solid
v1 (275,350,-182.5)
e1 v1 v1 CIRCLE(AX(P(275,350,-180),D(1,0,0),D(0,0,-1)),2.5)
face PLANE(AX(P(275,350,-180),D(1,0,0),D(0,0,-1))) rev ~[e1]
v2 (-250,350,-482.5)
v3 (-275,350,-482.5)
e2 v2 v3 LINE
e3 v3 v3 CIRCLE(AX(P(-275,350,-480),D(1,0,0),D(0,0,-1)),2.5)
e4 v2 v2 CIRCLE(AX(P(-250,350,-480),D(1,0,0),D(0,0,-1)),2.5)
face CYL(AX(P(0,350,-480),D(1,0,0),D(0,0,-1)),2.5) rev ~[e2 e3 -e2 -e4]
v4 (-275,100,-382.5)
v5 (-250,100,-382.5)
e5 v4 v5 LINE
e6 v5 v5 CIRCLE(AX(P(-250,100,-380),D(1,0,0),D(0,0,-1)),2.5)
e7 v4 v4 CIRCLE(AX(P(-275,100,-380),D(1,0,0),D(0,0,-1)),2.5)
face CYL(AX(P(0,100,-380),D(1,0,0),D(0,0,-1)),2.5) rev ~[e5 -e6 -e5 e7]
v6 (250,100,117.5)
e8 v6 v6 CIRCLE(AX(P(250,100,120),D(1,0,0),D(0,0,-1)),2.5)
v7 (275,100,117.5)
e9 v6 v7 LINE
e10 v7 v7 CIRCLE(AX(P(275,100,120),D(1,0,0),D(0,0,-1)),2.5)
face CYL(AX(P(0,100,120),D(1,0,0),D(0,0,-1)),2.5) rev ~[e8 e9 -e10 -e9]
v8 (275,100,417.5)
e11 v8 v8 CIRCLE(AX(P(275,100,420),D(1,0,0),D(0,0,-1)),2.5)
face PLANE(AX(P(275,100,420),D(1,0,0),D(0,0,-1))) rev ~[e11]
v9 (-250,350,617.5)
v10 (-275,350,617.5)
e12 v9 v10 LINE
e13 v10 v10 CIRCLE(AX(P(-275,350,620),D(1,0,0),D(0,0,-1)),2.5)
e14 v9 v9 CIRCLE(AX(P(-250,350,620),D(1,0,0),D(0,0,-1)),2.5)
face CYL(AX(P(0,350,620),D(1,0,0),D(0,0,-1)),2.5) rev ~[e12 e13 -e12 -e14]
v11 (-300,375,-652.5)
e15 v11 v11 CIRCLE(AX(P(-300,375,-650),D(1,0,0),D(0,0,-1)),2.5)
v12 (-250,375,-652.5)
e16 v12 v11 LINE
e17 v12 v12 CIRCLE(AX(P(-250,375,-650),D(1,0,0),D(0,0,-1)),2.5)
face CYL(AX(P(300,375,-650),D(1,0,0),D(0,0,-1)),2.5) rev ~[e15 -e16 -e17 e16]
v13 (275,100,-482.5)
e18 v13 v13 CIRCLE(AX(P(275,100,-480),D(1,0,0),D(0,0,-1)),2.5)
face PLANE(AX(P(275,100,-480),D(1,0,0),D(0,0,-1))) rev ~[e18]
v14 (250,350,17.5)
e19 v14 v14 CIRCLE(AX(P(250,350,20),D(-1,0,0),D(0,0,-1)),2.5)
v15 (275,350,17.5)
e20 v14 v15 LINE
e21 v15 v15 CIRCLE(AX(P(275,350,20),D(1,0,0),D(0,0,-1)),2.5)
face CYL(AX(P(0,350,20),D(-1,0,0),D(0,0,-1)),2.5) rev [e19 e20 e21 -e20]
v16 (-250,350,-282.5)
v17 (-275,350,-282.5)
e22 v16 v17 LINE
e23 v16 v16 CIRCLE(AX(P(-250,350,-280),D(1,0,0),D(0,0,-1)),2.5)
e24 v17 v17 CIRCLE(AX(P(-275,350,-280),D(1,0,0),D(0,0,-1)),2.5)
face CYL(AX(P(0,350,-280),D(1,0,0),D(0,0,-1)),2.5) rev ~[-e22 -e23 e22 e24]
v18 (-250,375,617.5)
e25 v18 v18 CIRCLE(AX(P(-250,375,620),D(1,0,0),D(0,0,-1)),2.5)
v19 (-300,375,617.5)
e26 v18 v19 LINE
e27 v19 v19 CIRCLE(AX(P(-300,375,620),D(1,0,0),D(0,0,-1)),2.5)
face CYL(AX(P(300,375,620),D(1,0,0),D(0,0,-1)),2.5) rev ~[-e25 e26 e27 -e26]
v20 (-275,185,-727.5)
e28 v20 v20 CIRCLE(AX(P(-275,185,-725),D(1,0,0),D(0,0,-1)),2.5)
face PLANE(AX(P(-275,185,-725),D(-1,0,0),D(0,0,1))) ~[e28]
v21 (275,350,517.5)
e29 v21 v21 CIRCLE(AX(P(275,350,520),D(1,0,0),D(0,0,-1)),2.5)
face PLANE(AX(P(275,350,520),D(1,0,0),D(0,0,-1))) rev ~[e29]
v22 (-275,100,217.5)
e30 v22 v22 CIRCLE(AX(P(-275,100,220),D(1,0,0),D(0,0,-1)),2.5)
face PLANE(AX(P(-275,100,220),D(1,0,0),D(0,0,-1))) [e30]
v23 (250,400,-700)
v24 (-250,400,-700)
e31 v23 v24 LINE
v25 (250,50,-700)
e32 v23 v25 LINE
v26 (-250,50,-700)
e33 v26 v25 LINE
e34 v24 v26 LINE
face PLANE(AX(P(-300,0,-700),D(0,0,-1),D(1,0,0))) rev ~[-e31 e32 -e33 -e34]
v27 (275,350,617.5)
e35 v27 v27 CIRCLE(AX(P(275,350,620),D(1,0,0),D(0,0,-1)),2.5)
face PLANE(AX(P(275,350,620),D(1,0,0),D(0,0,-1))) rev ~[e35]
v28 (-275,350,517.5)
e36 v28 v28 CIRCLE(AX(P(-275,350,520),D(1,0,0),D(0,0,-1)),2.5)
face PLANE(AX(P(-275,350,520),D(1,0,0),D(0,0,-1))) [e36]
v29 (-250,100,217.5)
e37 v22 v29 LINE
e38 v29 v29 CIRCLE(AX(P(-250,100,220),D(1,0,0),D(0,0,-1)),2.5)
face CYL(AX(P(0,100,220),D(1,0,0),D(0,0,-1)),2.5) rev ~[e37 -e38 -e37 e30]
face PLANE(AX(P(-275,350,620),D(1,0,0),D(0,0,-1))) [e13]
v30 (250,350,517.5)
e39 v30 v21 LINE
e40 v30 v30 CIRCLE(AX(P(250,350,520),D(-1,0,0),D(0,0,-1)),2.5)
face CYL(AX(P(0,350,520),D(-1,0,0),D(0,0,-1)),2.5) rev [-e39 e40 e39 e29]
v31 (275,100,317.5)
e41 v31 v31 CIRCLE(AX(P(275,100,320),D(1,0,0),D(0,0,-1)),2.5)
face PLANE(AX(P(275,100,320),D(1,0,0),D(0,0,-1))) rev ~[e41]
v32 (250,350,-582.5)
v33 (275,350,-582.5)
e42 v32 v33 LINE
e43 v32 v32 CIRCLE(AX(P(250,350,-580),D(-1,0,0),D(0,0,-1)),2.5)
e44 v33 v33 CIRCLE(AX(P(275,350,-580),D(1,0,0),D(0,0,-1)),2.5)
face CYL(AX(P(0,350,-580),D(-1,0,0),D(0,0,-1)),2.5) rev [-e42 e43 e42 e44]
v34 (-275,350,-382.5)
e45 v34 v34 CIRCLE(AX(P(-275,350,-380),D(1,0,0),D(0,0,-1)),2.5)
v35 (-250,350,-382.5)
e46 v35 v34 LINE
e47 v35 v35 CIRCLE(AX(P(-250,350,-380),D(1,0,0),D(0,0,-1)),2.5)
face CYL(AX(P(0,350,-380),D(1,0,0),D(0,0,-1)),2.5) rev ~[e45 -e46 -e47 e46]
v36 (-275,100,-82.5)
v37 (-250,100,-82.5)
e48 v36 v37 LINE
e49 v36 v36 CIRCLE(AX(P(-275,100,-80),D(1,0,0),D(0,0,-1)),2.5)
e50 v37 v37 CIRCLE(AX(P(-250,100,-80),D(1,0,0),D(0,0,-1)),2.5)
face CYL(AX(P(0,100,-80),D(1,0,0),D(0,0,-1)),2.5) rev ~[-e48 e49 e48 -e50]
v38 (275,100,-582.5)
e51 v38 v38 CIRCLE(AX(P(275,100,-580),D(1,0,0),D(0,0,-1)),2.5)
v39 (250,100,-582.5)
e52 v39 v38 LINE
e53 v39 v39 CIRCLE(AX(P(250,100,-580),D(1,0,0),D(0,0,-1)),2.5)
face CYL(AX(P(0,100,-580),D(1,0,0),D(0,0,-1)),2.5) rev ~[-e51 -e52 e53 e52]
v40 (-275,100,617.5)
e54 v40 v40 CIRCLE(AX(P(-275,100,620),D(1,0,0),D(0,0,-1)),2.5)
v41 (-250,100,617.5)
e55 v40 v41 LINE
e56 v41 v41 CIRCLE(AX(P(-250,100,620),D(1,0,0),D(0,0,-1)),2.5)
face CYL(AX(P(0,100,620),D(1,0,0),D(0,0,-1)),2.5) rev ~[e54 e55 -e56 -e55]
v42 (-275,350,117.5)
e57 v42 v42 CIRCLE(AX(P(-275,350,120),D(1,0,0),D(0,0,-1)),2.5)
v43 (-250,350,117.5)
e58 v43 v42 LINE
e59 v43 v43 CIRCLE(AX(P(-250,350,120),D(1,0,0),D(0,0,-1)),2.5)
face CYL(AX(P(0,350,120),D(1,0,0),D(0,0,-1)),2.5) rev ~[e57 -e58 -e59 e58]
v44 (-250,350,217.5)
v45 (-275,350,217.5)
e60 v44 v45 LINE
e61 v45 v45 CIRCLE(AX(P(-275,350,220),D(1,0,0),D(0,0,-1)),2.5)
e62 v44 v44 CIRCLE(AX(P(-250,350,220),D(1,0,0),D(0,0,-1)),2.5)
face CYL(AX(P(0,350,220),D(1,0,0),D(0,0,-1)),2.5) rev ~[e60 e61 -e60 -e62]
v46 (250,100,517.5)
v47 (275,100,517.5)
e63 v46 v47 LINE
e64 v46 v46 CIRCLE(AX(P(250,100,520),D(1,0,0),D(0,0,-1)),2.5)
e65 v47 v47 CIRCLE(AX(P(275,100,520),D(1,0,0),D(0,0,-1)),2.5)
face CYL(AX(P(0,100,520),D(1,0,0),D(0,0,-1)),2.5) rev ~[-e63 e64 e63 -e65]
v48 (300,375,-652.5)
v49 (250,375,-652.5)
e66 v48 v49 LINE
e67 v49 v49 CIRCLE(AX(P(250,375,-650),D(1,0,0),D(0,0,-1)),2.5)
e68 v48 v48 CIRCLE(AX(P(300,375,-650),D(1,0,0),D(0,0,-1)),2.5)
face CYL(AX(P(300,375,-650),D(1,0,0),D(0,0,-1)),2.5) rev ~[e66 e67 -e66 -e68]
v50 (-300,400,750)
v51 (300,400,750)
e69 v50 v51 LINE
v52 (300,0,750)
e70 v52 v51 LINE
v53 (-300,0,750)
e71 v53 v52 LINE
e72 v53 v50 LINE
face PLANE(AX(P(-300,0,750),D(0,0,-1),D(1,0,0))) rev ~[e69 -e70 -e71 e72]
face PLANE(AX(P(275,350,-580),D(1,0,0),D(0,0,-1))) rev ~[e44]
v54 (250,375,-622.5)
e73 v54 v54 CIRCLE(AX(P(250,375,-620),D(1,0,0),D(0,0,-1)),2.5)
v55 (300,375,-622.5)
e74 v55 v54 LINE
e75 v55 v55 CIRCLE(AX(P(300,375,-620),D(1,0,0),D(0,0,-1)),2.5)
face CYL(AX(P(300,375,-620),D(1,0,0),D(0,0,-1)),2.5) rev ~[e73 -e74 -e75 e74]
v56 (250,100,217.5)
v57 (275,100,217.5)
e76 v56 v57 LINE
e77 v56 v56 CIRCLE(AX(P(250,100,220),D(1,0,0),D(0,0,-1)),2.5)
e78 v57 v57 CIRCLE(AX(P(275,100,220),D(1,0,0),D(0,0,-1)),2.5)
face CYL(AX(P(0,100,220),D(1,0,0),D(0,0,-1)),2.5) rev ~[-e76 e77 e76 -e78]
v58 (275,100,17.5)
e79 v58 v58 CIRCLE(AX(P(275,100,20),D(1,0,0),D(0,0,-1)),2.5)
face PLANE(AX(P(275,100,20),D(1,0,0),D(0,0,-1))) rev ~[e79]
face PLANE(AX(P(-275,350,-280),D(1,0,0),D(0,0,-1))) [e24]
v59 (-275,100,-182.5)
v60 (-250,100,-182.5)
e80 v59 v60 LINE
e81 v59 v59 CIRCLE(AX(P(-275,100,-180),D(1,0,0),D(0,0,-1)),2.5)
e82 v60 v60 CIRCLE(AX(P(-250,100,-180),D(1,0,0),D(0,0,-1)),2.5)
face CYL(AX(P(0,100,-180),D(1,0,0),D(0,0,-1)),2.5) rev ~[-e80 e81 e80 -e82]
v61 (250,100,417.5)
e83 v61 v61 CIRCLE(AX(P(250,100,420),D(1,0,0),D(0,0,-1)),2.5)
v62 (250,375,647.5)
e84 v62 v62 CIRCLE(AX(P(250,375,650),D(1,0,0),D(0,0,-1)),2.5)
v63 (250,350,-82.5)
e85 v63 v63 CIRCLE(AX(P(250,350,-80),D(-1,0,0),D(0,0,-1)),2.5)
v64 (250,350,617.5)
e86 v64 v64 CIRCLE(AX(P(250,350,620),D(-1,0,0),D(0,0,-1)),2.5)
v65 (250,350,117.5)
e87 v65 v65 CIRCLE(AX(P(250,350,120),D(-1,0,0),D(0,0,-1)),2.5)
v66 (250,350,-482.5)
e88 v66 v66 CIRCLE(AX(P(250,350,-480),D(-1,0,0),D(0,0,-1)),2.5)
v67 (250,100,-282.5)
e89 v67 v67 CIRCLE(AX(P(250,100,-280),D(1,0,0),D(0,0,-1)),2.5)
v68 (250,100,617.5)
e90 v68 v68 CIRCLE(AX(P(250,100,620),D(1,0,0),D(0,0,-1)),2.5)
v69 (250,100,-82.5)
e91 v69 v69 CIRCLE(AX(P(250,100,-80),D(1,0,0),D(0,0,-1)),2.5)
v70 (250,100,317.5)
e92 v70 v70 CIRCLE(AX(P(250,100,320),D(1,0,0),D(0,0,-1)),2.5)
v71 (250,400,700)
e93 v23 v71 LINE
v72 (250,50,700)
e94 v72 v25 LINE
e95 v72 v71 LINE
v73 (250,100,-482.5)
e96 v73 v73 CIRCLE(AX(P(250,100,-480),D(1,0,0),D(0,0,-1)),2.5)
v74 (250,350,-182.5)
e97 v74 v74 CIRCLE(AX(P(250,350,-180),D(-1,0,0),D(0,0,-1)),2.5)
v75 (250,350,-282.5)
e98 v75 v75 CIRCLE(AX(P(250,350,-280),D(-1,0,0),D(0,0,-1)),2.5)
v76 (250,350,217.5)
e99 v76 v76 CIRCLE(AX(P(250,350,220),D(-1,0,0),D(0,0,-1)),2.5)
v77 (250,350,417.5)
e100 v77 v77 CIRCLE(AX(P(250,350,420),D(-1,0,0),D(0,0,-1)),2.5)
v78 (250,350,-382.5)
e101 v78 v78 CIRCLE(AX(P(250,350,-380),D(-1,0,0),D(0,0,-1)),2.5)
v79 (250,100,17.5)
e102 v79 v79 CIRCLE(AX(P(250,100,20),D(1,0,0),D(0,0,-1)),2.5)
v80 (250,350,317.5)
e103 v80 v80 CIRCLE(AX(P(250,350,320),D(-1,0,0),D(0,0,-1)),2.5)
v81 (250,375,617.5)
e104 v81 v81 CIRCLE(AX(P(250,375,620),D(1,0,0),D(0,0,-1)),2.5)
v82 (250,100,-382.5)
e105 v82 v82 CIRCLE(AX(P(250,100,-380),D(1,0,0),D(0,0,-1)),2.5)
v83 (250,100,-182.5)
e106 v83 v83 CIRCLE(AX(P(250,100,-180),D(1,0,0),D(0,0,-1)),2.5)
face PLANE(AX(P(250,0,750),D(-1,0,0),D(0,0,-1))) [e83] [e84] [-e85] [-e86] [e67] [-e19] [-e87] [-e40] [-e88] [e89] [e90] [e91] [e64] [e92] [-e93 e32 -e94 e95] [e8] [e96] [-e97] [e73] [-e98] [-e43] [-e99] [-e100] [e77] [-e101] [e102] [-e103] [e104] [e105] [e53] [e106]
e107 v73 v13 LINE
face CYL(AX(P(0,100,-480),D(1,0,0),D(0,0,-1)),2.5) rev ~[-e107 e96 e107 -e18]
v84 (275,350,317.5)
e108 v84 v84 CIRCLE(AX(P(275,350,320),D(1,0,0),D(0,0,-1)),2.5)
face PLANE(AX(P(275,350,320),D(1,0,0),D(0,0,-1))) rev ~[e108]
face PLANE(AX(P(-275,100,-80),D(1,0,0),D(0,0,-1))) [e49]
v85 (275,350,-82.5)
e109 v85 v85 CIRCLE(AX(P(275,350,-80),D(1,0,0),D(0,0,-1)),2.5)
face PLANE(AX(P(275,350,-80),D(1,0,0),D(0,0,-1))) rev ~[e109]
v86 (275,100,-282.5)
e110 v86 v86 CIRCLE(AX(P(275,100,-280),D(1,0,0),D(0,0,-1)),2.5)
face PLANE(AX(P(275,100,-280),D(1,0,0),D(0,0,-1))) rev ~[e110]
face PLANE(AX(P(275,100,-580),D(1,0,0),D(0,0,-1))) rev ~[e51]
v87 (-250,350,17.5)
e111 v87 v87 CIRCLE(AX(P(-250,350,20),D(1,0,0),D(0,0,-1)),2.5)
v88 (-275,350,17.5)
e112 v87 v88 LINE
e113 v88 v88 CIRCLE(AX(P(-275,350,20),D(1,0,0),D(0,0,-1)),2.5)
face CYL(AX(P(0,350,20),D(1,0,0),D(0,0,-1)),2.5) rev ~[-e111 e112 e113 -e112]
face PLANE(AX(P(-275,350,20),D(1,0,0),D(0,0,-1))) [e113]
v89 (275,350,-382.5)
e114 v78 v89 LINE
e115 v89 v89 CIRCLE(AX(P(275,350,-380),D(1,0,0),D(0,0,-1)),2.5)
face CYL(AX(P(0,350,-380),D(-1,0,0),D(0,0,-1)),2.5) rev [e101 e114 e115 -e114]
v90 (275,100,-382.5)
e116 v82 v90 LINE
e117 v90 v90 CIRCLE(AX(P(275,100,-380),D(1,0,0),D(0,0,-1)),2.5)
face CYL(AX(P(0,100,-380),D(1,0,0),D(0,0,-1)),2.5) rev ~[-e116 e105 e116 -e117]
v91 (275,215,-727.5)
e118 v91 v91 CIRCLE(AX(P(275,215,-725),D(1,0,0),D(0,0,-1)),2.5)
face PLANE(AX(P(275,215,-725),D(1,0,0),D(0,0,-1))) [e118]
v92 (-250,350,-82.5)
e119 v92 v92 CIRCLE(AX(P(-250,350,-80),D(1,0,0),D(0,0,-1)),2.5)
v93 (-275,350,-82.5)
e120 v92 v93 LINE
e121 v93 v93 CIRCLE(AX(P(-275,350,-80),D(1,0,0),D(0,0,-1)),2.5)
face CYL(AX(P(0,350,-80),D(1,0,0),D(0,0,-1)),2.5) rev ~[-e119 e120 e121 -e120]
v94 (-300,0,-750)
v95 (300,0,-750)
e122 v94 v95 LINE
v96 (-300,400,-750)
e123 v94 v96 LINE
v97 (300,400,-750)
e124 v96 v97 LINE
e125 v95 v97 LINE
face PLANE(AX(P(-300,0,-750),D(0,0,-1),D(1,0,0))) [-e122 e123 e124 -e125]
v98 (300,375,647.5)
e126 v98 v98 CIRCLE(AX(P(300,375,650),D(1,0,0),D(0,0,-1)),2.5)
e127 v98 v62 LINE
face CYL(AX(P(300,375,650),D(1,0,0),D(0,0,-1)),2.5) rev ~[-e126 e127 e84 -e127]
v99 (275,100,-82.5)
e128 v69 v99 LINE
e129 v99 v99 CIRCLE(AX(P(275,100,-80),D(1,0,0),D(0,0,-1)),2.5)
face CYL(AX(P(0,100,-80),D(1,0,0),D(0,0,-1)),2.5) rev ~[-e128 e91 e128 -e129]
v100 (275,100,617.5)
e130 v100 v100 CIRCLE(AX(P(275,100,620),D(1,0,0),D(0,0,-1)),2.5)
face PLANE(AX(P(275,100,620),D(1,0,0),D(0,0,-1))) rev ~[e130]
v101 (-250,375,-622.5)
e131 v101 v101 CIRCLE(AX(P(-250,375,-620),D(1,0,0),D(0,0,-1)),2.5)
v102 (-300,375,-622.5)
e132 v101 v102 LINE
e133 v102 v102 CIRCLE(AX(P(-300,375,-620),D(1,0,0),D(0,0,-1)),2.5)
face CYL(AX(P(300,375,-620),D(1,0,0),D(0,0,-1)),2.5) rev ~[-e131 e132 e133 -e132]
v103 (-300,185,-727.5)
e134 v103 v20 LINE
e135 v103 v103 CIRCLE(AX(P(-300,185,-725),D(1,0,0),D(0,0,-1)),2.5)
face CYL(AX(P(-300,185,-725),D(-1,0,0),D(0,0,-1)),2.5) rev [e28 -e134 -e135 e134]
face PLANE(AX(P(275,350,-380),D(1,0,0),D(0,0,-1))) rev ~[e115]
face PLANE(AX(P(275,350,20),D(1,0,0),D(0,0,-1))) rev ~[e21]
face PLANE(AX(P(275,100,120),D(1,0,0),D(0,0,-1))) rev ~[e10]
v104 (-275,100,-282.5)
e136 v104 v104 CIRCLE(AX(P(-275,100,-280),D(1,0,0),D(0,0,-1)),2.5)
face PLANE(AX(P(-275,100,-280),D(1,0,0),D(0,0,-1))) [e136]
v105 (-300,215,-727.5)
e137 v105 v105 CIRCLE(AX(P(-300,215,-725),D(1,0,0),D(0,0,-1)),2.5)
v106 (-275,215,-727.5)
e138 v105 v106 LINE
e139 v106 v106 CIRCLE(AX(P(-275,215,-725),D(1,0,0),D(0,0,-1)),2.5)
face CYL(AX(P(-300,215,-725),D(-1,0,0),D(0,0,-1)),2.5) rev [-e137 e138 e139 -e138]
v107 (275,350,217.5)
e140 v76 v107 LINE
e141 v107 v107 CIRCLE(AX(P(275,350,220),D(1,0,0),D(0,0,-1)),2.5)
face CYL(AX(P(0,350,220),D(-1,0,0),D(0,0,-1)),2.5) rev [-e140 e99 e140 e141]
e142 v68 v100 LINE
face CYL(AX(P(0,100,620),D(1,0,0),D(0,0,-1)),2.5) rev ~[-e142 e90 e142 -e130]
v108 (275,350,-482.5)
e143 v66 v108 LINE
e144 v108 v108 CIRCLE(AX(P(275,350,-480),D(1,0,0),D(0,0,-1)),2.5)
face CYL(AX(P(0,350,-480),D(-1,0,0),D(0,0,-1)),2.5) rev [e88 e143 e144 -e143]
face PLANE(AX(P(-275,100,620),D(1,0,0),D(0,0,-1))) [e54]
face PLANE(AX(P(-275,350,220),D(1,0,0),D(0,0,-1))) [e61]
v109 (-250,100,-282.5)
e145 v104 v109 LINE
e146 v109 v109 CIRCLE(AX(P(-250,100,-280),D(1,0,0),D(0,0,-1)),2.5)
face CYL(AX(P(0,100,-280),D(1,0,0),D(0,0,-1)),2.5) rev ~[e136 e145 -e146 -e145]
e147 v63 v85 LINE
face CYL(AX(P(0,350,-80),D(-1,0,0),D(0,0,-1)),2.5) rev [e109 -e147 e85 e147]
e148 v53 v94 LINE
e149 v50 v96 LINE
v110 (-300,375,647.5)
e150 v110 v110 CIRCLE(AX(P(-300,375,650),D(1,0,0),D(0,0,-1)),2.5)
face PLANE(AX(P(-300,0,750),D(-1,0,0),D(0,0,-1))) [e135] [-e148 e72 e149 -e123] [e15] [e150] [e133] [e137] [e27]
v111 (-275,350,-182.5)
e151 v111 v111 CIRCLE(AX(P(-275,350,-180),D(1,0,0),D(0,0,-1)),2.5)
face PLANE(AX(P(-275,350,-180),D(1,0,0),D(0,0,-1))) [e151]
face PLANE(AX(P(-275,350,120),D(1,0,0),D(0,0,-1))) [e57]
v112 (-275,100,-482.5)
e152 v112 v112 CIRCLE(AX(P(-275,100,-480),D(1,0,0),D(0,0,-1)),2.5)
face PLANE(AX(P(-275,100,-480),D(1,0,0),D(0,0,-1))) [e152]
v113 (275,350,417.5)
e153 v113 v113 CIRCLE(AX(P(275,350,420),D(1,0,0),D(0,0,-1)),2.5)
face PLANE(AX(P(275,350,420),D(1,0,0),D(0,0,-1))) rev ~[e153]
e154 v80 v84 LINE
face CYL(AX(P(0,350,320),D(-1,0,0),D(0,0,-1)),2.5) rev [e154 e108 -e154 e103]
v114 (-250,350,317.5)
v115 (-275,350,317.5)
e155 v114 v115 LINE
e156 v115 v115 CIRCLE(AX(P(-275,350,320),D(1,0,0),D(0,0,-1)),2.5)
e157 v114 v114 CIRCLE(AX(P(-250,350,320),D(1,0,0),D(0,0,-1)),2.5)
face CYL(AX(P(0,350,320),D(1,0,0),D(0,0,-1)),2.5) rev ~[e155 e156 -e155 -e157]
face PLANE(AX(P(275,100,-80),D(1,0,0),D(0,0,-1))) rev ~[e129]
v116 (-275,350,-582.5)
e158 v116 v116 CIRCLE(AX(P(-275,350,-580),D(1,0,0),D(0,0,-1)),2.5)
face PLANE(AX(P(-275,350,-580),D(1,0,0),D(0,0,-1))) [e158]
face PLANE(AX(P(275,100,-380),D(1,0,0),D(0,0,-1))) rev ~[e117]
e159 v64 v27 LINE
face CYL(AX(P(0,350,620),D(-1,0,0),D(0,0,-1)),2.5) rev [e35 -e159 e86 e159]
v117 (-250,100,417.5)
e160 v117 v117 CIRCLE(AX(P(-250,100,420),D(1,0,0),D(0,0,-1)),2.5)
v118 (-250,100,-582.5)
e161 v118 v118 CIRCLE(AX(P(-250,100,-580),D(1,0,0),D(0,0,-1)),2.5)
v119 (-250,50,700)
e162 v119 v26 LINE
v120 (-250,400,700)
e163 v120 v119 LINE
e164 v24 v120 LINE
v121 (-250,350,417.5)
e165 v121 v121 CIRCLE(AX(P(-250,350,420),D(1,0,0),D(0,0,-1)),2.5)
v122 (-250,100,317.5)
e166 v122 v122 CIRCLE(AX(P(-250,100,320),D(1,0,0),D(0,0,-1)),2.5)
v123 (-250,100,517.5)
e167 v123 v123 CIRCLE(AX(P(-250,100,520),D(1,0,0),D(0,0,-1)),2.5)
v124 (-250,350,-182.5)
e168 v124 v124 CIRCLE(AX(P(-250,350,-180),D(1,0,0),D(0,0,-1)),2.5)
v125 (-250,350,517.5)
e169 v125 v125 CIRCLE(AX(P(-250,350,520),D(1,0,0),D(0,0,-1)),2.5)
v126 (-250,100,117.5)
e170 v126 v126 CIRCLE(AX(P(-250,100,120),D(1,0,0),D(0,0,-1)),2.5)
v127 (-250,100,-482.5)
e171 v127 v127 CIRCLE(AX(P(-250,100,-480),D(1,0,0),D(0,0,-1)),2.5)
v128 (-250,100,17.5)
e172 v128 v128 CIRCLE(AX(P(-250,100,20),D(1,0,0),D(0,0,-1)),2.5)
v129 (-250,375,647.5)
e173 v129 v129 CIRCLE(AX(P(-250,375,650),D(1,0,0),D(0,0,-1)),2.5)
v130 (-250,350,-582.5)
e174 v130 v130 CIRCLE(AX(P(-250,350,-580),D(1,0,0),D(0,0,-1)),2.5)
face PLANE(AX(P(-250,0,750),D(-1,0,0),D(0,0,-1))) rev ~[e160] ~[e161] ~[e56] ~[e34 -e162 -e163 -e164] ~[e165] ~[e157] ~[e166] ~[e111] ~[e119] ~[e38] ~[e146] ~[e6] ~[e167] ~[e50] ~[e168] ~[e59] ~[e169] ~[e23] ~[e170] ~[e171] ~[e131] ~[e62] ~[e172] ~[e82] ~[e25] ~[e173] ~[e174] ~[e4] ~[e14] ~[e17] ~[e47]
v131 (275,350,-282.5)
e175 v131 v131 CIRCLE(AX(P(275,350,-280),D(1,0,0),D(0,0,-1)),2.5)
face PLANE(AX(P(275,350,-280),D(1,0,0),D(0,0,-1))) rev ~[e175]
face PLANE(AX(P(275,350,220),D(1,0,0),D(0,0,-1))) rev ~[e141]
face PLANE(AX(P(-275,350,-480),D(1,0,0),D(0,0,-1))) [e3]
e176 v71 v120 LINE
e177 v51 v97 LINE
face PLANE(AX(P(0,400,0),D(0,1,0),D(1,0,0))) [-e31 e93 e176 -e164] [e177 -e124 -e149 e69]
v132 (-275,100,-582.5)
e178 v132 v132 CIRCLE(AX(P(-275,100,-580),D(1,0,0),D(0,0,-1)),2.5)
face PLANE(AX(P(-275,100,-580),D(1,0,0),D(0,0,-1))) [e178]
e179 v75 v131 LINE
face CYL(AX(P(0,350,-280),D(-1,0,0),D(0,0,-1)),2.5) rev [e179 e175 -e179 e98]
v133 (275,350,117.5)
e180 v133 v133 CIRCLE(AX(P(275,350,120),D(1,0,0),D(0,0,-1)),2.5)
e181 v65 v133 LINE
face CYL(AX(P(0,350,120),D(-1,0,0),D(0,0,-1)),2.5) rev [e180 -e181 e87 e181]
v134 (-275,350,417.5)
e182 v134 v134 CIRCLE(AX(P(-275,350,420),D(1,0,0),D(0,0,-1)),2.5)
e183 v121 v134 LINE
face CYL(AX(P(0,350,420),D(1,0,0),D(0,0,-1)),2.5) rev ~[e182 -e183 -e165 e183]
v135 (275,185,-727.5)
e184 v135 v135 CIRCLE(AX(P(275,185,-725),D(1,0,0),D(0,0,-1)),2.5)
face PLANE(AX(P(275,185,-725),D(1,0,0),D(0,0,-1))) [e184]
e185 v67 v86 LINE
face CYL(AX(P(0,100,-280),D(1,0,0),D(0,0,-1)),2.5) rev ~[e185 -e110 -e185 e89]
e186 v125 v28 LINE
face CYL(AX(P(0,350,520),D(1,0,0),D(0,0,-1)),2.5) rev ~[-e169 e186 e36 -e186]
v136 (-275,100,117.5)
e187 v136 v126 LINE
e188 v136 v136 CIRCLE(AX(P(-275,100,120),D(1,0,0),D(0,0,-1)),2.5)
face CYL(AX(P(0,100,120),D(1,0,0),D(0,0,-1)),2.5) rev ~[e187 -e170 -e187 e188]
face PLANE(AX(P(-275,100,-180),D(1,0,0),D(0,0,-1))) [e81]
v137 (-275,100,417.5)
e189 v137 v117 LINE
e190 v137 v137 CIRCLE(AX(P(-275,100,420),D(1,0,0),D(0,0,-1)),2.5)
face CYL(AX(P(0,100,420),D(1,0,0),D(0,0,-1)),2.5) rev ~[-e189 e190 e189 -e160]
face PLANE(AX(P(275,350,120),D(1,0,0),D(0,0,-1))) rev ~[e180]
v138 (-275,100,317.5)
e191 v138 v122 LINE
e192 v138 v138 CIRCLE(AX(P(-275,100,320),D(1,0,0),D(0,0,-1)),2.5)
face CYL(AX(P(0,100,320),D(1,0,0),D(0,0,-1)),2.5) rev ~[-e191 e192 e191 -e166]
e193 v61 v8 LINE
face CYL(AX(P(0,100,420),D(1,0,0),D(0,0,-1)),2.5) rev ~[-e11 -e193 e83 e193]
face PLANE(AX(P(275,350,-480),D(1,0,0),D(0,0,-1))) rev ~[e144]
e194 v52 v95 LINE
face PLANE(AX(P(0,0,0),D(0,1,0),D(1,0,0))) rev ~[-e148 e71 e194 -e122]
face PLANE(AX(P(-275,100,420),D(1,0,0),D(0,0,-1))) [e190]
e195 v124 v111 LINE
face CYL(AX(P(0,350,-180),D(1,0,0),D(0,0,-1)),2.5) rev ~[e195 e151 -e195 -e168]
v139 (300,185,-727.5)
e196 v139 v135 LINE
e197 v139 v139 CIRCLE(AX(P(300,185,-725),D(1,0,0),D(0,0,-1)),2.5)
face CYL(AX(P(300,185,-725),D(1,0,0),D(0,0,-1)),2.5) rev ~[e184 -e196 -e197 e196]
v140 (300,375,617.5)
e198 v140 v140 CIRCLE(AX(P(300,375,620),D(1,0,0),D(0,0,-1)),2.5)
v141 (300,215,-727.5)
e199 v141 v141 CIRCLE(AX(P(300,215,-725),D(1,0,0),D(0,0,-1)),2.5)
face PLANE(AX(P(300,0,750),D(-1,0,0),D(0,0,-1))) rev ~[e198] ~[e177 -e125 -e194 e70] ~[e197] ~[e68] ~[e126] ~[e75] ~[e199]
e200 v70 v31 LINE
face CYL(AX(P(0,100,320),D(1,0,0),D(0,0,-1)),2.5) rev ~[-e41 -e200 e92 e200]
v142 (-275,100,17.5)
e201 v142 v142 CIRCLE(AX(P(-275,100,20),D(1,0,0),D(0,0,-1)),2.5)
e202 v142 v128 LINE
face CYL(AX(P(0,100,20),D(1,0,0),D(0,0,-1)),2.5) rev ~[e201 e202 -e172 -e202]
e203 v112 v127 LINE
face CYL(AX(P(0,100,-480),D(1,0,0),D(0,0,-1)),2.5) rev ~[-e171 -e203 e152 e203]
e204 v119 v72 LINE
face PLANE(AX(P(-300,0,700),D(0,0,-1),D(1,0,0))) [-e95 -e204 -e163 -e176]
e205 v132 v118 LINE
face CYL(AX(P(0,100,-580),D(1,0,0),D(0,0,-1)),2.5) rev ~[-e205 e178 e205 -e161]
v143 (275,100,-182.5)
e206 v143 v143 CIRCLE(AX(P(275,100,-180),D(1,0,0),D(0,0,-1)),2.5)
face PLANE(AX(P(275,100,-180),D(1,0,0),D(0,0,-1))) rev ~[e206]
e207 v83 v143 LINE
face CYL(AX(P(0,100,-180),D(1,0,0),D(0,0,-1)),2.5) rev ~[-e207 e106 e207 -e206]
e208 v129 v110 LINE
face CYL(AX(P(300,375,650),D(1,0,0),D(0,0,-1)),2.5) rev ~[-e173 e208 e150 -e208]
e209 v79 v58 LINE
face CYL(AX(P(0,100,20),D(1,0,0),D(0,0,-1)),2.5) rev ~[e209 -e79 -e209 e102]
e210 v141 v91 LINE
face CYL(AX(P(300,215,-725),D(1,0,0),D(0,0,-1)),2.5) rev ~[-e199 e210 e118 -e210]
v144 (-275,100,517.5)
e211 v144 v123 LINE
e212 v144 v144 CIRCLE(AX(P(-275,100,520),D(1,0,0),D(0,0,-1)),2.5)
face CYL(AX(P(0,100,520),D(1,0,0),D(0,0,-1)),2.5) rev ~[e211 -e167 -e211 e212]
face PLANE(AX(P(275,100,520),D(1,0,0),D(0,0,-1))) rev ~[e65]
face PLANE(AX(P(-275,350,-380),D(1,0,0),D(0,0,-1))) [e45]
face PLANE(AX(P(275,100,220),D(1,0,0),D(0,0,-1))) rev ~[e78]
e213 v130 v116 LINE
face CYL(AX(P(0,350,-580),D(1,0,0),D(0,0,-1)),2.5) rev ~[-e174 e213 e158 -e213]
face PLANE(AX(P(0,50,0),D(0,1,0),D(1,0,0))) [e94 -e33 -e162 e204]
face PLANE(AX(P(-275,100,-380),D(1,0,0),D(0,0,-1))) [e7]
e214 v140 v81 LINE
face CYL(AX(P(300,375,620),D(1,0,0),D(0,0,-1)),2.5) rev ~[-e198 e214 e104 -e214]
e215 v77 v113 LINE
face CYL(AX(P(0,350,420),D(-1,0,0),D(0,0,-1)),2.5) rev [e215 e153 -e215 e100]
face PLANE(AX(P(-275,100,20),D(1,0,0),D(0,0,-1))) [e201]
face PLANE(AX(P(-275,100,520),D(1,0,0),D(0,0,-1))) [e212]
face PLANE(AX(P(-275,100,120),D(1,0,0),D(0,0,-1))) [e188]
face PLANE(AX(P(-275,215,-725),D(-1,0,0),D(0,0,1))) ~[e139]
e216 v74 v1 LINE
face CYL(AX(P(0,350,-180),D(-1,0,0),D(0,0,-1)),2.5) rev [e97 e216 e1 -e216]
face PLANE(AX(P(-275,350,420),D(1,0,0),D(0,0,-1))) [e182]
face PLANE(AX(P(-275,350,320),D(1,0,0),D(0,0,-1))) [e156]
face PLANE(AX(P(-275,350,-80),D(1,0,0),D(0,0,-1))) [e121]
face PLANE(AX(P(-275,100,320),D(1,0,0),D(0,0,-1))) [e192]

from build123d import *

# Parameters (mm, degrees)
SKETCH1_W           = 600
SKETCH1_H           = 1500
BOSS_EXTRUDE1_DEPTH = 400
SHELL1_T            = -50
SKETCH2_R           = 2.5
CUT_EXTRUDE1_DEPTH  = 1041.432602334
SKETCH13_R          = 2.5
CUT_EXTRUDE2_DEPTH  = 275
LPATTERN1_COUNT     = 13
LPATTERN1_PITCH     = 100
SKETCH14_R          = 2.5
CUT_EXTRUDE3_DEPTH  = 25


with BuildPart() as part:
    # Sketch1 → Boss-Extrude1 (new body)
    with BuildSketch(Plane(origin=(0, 0, 0), x_dir=(1, 0, 0), z_dir=(0, 1, 0))):
        Rectangle(SKETCH1_W, SKETCH1_H)
    extrude(amount=BOSS_EXTRUDE1_DEPTH)

    # Shell1
    shell1_openings = [part.faces().sort_by_distance(p)[0] for p in [
        (0, 400, 0),
    ]]
    offset(amount=SHELL1_T, openings=shell1_openings, kind=Kind.INTERSECTION)

    # Sketch2 → Cut-Extrude1 (cut, through all)
    with BuildSketch(Plane(origin=(300, 0, 0), x_dir=(0, 0, -1), z_dir=(1, 0, 0))):
        with Locations((-650, 375)):
            Circle(SKETCH2_R)
        with Locations((-620, 375)):
            Circle(SKETCH2_R)
        with Locations((650, 375)):
            Circle(SKETCH2_R)
        with Locations((620, 375)):
            Circle(SKETCH2_R)
    extrude(amount=-CUT_EXTRUDE1_DEPTH, mode=Mode.SUBTRACT)

    # Sketch13 → Cut-Extrude2 (cut, symmetric)
    with BuildSketch(Plane(origin=(0, 0, 0), x_dir=(0, 0, -1), z_dir=(1, 0, 0))):
        with Locations((-620, 350)):
            Circle(SKETCH13_R)
        with Locations((-620, 100)):
            Circle(SKETCH13_R)
    cut_extrude2 = extrude(amount=CUT_EXTRUDE2_DEPTH, both=True, mode=Mode.SUBTRACT)

    # LPattern1: Cut-Extrude2 ×13
    with Locations(*[(0, 0, -i * LPATTERN1_PITCH) for i in range(1, LPATTERN1_COUNT)]):
        add(cut_extrude2, mode=Mode.SUBTRACT)

    # Sketch14 → Cut-Extrude3 (cut)
    with BuildSketch(Plane(origin=(300, 0, 0), x_dir=(0, 0, -1), z_dir=(1, 0, 0))):
        with Locations((725, 215)):
            Circle(SKETCH14_R)
        with Locations((725, 185)):
            Circle(SKETCH14_R)
    cut_extrude3 = extrude(amount=-CUT_EXTRUDE3_DEPTH, mode=Mode.SUBTRACT)

    # Mirror1: Cut-Extrude3 across plane
    add(cut_extrude3.mirror(Plane(origin=(0, 0, 0), x_dir=(0, 0, 1), z_dir=(1, 0, 0))), mode=Mode.SUBTRACT)


solid = part.part
